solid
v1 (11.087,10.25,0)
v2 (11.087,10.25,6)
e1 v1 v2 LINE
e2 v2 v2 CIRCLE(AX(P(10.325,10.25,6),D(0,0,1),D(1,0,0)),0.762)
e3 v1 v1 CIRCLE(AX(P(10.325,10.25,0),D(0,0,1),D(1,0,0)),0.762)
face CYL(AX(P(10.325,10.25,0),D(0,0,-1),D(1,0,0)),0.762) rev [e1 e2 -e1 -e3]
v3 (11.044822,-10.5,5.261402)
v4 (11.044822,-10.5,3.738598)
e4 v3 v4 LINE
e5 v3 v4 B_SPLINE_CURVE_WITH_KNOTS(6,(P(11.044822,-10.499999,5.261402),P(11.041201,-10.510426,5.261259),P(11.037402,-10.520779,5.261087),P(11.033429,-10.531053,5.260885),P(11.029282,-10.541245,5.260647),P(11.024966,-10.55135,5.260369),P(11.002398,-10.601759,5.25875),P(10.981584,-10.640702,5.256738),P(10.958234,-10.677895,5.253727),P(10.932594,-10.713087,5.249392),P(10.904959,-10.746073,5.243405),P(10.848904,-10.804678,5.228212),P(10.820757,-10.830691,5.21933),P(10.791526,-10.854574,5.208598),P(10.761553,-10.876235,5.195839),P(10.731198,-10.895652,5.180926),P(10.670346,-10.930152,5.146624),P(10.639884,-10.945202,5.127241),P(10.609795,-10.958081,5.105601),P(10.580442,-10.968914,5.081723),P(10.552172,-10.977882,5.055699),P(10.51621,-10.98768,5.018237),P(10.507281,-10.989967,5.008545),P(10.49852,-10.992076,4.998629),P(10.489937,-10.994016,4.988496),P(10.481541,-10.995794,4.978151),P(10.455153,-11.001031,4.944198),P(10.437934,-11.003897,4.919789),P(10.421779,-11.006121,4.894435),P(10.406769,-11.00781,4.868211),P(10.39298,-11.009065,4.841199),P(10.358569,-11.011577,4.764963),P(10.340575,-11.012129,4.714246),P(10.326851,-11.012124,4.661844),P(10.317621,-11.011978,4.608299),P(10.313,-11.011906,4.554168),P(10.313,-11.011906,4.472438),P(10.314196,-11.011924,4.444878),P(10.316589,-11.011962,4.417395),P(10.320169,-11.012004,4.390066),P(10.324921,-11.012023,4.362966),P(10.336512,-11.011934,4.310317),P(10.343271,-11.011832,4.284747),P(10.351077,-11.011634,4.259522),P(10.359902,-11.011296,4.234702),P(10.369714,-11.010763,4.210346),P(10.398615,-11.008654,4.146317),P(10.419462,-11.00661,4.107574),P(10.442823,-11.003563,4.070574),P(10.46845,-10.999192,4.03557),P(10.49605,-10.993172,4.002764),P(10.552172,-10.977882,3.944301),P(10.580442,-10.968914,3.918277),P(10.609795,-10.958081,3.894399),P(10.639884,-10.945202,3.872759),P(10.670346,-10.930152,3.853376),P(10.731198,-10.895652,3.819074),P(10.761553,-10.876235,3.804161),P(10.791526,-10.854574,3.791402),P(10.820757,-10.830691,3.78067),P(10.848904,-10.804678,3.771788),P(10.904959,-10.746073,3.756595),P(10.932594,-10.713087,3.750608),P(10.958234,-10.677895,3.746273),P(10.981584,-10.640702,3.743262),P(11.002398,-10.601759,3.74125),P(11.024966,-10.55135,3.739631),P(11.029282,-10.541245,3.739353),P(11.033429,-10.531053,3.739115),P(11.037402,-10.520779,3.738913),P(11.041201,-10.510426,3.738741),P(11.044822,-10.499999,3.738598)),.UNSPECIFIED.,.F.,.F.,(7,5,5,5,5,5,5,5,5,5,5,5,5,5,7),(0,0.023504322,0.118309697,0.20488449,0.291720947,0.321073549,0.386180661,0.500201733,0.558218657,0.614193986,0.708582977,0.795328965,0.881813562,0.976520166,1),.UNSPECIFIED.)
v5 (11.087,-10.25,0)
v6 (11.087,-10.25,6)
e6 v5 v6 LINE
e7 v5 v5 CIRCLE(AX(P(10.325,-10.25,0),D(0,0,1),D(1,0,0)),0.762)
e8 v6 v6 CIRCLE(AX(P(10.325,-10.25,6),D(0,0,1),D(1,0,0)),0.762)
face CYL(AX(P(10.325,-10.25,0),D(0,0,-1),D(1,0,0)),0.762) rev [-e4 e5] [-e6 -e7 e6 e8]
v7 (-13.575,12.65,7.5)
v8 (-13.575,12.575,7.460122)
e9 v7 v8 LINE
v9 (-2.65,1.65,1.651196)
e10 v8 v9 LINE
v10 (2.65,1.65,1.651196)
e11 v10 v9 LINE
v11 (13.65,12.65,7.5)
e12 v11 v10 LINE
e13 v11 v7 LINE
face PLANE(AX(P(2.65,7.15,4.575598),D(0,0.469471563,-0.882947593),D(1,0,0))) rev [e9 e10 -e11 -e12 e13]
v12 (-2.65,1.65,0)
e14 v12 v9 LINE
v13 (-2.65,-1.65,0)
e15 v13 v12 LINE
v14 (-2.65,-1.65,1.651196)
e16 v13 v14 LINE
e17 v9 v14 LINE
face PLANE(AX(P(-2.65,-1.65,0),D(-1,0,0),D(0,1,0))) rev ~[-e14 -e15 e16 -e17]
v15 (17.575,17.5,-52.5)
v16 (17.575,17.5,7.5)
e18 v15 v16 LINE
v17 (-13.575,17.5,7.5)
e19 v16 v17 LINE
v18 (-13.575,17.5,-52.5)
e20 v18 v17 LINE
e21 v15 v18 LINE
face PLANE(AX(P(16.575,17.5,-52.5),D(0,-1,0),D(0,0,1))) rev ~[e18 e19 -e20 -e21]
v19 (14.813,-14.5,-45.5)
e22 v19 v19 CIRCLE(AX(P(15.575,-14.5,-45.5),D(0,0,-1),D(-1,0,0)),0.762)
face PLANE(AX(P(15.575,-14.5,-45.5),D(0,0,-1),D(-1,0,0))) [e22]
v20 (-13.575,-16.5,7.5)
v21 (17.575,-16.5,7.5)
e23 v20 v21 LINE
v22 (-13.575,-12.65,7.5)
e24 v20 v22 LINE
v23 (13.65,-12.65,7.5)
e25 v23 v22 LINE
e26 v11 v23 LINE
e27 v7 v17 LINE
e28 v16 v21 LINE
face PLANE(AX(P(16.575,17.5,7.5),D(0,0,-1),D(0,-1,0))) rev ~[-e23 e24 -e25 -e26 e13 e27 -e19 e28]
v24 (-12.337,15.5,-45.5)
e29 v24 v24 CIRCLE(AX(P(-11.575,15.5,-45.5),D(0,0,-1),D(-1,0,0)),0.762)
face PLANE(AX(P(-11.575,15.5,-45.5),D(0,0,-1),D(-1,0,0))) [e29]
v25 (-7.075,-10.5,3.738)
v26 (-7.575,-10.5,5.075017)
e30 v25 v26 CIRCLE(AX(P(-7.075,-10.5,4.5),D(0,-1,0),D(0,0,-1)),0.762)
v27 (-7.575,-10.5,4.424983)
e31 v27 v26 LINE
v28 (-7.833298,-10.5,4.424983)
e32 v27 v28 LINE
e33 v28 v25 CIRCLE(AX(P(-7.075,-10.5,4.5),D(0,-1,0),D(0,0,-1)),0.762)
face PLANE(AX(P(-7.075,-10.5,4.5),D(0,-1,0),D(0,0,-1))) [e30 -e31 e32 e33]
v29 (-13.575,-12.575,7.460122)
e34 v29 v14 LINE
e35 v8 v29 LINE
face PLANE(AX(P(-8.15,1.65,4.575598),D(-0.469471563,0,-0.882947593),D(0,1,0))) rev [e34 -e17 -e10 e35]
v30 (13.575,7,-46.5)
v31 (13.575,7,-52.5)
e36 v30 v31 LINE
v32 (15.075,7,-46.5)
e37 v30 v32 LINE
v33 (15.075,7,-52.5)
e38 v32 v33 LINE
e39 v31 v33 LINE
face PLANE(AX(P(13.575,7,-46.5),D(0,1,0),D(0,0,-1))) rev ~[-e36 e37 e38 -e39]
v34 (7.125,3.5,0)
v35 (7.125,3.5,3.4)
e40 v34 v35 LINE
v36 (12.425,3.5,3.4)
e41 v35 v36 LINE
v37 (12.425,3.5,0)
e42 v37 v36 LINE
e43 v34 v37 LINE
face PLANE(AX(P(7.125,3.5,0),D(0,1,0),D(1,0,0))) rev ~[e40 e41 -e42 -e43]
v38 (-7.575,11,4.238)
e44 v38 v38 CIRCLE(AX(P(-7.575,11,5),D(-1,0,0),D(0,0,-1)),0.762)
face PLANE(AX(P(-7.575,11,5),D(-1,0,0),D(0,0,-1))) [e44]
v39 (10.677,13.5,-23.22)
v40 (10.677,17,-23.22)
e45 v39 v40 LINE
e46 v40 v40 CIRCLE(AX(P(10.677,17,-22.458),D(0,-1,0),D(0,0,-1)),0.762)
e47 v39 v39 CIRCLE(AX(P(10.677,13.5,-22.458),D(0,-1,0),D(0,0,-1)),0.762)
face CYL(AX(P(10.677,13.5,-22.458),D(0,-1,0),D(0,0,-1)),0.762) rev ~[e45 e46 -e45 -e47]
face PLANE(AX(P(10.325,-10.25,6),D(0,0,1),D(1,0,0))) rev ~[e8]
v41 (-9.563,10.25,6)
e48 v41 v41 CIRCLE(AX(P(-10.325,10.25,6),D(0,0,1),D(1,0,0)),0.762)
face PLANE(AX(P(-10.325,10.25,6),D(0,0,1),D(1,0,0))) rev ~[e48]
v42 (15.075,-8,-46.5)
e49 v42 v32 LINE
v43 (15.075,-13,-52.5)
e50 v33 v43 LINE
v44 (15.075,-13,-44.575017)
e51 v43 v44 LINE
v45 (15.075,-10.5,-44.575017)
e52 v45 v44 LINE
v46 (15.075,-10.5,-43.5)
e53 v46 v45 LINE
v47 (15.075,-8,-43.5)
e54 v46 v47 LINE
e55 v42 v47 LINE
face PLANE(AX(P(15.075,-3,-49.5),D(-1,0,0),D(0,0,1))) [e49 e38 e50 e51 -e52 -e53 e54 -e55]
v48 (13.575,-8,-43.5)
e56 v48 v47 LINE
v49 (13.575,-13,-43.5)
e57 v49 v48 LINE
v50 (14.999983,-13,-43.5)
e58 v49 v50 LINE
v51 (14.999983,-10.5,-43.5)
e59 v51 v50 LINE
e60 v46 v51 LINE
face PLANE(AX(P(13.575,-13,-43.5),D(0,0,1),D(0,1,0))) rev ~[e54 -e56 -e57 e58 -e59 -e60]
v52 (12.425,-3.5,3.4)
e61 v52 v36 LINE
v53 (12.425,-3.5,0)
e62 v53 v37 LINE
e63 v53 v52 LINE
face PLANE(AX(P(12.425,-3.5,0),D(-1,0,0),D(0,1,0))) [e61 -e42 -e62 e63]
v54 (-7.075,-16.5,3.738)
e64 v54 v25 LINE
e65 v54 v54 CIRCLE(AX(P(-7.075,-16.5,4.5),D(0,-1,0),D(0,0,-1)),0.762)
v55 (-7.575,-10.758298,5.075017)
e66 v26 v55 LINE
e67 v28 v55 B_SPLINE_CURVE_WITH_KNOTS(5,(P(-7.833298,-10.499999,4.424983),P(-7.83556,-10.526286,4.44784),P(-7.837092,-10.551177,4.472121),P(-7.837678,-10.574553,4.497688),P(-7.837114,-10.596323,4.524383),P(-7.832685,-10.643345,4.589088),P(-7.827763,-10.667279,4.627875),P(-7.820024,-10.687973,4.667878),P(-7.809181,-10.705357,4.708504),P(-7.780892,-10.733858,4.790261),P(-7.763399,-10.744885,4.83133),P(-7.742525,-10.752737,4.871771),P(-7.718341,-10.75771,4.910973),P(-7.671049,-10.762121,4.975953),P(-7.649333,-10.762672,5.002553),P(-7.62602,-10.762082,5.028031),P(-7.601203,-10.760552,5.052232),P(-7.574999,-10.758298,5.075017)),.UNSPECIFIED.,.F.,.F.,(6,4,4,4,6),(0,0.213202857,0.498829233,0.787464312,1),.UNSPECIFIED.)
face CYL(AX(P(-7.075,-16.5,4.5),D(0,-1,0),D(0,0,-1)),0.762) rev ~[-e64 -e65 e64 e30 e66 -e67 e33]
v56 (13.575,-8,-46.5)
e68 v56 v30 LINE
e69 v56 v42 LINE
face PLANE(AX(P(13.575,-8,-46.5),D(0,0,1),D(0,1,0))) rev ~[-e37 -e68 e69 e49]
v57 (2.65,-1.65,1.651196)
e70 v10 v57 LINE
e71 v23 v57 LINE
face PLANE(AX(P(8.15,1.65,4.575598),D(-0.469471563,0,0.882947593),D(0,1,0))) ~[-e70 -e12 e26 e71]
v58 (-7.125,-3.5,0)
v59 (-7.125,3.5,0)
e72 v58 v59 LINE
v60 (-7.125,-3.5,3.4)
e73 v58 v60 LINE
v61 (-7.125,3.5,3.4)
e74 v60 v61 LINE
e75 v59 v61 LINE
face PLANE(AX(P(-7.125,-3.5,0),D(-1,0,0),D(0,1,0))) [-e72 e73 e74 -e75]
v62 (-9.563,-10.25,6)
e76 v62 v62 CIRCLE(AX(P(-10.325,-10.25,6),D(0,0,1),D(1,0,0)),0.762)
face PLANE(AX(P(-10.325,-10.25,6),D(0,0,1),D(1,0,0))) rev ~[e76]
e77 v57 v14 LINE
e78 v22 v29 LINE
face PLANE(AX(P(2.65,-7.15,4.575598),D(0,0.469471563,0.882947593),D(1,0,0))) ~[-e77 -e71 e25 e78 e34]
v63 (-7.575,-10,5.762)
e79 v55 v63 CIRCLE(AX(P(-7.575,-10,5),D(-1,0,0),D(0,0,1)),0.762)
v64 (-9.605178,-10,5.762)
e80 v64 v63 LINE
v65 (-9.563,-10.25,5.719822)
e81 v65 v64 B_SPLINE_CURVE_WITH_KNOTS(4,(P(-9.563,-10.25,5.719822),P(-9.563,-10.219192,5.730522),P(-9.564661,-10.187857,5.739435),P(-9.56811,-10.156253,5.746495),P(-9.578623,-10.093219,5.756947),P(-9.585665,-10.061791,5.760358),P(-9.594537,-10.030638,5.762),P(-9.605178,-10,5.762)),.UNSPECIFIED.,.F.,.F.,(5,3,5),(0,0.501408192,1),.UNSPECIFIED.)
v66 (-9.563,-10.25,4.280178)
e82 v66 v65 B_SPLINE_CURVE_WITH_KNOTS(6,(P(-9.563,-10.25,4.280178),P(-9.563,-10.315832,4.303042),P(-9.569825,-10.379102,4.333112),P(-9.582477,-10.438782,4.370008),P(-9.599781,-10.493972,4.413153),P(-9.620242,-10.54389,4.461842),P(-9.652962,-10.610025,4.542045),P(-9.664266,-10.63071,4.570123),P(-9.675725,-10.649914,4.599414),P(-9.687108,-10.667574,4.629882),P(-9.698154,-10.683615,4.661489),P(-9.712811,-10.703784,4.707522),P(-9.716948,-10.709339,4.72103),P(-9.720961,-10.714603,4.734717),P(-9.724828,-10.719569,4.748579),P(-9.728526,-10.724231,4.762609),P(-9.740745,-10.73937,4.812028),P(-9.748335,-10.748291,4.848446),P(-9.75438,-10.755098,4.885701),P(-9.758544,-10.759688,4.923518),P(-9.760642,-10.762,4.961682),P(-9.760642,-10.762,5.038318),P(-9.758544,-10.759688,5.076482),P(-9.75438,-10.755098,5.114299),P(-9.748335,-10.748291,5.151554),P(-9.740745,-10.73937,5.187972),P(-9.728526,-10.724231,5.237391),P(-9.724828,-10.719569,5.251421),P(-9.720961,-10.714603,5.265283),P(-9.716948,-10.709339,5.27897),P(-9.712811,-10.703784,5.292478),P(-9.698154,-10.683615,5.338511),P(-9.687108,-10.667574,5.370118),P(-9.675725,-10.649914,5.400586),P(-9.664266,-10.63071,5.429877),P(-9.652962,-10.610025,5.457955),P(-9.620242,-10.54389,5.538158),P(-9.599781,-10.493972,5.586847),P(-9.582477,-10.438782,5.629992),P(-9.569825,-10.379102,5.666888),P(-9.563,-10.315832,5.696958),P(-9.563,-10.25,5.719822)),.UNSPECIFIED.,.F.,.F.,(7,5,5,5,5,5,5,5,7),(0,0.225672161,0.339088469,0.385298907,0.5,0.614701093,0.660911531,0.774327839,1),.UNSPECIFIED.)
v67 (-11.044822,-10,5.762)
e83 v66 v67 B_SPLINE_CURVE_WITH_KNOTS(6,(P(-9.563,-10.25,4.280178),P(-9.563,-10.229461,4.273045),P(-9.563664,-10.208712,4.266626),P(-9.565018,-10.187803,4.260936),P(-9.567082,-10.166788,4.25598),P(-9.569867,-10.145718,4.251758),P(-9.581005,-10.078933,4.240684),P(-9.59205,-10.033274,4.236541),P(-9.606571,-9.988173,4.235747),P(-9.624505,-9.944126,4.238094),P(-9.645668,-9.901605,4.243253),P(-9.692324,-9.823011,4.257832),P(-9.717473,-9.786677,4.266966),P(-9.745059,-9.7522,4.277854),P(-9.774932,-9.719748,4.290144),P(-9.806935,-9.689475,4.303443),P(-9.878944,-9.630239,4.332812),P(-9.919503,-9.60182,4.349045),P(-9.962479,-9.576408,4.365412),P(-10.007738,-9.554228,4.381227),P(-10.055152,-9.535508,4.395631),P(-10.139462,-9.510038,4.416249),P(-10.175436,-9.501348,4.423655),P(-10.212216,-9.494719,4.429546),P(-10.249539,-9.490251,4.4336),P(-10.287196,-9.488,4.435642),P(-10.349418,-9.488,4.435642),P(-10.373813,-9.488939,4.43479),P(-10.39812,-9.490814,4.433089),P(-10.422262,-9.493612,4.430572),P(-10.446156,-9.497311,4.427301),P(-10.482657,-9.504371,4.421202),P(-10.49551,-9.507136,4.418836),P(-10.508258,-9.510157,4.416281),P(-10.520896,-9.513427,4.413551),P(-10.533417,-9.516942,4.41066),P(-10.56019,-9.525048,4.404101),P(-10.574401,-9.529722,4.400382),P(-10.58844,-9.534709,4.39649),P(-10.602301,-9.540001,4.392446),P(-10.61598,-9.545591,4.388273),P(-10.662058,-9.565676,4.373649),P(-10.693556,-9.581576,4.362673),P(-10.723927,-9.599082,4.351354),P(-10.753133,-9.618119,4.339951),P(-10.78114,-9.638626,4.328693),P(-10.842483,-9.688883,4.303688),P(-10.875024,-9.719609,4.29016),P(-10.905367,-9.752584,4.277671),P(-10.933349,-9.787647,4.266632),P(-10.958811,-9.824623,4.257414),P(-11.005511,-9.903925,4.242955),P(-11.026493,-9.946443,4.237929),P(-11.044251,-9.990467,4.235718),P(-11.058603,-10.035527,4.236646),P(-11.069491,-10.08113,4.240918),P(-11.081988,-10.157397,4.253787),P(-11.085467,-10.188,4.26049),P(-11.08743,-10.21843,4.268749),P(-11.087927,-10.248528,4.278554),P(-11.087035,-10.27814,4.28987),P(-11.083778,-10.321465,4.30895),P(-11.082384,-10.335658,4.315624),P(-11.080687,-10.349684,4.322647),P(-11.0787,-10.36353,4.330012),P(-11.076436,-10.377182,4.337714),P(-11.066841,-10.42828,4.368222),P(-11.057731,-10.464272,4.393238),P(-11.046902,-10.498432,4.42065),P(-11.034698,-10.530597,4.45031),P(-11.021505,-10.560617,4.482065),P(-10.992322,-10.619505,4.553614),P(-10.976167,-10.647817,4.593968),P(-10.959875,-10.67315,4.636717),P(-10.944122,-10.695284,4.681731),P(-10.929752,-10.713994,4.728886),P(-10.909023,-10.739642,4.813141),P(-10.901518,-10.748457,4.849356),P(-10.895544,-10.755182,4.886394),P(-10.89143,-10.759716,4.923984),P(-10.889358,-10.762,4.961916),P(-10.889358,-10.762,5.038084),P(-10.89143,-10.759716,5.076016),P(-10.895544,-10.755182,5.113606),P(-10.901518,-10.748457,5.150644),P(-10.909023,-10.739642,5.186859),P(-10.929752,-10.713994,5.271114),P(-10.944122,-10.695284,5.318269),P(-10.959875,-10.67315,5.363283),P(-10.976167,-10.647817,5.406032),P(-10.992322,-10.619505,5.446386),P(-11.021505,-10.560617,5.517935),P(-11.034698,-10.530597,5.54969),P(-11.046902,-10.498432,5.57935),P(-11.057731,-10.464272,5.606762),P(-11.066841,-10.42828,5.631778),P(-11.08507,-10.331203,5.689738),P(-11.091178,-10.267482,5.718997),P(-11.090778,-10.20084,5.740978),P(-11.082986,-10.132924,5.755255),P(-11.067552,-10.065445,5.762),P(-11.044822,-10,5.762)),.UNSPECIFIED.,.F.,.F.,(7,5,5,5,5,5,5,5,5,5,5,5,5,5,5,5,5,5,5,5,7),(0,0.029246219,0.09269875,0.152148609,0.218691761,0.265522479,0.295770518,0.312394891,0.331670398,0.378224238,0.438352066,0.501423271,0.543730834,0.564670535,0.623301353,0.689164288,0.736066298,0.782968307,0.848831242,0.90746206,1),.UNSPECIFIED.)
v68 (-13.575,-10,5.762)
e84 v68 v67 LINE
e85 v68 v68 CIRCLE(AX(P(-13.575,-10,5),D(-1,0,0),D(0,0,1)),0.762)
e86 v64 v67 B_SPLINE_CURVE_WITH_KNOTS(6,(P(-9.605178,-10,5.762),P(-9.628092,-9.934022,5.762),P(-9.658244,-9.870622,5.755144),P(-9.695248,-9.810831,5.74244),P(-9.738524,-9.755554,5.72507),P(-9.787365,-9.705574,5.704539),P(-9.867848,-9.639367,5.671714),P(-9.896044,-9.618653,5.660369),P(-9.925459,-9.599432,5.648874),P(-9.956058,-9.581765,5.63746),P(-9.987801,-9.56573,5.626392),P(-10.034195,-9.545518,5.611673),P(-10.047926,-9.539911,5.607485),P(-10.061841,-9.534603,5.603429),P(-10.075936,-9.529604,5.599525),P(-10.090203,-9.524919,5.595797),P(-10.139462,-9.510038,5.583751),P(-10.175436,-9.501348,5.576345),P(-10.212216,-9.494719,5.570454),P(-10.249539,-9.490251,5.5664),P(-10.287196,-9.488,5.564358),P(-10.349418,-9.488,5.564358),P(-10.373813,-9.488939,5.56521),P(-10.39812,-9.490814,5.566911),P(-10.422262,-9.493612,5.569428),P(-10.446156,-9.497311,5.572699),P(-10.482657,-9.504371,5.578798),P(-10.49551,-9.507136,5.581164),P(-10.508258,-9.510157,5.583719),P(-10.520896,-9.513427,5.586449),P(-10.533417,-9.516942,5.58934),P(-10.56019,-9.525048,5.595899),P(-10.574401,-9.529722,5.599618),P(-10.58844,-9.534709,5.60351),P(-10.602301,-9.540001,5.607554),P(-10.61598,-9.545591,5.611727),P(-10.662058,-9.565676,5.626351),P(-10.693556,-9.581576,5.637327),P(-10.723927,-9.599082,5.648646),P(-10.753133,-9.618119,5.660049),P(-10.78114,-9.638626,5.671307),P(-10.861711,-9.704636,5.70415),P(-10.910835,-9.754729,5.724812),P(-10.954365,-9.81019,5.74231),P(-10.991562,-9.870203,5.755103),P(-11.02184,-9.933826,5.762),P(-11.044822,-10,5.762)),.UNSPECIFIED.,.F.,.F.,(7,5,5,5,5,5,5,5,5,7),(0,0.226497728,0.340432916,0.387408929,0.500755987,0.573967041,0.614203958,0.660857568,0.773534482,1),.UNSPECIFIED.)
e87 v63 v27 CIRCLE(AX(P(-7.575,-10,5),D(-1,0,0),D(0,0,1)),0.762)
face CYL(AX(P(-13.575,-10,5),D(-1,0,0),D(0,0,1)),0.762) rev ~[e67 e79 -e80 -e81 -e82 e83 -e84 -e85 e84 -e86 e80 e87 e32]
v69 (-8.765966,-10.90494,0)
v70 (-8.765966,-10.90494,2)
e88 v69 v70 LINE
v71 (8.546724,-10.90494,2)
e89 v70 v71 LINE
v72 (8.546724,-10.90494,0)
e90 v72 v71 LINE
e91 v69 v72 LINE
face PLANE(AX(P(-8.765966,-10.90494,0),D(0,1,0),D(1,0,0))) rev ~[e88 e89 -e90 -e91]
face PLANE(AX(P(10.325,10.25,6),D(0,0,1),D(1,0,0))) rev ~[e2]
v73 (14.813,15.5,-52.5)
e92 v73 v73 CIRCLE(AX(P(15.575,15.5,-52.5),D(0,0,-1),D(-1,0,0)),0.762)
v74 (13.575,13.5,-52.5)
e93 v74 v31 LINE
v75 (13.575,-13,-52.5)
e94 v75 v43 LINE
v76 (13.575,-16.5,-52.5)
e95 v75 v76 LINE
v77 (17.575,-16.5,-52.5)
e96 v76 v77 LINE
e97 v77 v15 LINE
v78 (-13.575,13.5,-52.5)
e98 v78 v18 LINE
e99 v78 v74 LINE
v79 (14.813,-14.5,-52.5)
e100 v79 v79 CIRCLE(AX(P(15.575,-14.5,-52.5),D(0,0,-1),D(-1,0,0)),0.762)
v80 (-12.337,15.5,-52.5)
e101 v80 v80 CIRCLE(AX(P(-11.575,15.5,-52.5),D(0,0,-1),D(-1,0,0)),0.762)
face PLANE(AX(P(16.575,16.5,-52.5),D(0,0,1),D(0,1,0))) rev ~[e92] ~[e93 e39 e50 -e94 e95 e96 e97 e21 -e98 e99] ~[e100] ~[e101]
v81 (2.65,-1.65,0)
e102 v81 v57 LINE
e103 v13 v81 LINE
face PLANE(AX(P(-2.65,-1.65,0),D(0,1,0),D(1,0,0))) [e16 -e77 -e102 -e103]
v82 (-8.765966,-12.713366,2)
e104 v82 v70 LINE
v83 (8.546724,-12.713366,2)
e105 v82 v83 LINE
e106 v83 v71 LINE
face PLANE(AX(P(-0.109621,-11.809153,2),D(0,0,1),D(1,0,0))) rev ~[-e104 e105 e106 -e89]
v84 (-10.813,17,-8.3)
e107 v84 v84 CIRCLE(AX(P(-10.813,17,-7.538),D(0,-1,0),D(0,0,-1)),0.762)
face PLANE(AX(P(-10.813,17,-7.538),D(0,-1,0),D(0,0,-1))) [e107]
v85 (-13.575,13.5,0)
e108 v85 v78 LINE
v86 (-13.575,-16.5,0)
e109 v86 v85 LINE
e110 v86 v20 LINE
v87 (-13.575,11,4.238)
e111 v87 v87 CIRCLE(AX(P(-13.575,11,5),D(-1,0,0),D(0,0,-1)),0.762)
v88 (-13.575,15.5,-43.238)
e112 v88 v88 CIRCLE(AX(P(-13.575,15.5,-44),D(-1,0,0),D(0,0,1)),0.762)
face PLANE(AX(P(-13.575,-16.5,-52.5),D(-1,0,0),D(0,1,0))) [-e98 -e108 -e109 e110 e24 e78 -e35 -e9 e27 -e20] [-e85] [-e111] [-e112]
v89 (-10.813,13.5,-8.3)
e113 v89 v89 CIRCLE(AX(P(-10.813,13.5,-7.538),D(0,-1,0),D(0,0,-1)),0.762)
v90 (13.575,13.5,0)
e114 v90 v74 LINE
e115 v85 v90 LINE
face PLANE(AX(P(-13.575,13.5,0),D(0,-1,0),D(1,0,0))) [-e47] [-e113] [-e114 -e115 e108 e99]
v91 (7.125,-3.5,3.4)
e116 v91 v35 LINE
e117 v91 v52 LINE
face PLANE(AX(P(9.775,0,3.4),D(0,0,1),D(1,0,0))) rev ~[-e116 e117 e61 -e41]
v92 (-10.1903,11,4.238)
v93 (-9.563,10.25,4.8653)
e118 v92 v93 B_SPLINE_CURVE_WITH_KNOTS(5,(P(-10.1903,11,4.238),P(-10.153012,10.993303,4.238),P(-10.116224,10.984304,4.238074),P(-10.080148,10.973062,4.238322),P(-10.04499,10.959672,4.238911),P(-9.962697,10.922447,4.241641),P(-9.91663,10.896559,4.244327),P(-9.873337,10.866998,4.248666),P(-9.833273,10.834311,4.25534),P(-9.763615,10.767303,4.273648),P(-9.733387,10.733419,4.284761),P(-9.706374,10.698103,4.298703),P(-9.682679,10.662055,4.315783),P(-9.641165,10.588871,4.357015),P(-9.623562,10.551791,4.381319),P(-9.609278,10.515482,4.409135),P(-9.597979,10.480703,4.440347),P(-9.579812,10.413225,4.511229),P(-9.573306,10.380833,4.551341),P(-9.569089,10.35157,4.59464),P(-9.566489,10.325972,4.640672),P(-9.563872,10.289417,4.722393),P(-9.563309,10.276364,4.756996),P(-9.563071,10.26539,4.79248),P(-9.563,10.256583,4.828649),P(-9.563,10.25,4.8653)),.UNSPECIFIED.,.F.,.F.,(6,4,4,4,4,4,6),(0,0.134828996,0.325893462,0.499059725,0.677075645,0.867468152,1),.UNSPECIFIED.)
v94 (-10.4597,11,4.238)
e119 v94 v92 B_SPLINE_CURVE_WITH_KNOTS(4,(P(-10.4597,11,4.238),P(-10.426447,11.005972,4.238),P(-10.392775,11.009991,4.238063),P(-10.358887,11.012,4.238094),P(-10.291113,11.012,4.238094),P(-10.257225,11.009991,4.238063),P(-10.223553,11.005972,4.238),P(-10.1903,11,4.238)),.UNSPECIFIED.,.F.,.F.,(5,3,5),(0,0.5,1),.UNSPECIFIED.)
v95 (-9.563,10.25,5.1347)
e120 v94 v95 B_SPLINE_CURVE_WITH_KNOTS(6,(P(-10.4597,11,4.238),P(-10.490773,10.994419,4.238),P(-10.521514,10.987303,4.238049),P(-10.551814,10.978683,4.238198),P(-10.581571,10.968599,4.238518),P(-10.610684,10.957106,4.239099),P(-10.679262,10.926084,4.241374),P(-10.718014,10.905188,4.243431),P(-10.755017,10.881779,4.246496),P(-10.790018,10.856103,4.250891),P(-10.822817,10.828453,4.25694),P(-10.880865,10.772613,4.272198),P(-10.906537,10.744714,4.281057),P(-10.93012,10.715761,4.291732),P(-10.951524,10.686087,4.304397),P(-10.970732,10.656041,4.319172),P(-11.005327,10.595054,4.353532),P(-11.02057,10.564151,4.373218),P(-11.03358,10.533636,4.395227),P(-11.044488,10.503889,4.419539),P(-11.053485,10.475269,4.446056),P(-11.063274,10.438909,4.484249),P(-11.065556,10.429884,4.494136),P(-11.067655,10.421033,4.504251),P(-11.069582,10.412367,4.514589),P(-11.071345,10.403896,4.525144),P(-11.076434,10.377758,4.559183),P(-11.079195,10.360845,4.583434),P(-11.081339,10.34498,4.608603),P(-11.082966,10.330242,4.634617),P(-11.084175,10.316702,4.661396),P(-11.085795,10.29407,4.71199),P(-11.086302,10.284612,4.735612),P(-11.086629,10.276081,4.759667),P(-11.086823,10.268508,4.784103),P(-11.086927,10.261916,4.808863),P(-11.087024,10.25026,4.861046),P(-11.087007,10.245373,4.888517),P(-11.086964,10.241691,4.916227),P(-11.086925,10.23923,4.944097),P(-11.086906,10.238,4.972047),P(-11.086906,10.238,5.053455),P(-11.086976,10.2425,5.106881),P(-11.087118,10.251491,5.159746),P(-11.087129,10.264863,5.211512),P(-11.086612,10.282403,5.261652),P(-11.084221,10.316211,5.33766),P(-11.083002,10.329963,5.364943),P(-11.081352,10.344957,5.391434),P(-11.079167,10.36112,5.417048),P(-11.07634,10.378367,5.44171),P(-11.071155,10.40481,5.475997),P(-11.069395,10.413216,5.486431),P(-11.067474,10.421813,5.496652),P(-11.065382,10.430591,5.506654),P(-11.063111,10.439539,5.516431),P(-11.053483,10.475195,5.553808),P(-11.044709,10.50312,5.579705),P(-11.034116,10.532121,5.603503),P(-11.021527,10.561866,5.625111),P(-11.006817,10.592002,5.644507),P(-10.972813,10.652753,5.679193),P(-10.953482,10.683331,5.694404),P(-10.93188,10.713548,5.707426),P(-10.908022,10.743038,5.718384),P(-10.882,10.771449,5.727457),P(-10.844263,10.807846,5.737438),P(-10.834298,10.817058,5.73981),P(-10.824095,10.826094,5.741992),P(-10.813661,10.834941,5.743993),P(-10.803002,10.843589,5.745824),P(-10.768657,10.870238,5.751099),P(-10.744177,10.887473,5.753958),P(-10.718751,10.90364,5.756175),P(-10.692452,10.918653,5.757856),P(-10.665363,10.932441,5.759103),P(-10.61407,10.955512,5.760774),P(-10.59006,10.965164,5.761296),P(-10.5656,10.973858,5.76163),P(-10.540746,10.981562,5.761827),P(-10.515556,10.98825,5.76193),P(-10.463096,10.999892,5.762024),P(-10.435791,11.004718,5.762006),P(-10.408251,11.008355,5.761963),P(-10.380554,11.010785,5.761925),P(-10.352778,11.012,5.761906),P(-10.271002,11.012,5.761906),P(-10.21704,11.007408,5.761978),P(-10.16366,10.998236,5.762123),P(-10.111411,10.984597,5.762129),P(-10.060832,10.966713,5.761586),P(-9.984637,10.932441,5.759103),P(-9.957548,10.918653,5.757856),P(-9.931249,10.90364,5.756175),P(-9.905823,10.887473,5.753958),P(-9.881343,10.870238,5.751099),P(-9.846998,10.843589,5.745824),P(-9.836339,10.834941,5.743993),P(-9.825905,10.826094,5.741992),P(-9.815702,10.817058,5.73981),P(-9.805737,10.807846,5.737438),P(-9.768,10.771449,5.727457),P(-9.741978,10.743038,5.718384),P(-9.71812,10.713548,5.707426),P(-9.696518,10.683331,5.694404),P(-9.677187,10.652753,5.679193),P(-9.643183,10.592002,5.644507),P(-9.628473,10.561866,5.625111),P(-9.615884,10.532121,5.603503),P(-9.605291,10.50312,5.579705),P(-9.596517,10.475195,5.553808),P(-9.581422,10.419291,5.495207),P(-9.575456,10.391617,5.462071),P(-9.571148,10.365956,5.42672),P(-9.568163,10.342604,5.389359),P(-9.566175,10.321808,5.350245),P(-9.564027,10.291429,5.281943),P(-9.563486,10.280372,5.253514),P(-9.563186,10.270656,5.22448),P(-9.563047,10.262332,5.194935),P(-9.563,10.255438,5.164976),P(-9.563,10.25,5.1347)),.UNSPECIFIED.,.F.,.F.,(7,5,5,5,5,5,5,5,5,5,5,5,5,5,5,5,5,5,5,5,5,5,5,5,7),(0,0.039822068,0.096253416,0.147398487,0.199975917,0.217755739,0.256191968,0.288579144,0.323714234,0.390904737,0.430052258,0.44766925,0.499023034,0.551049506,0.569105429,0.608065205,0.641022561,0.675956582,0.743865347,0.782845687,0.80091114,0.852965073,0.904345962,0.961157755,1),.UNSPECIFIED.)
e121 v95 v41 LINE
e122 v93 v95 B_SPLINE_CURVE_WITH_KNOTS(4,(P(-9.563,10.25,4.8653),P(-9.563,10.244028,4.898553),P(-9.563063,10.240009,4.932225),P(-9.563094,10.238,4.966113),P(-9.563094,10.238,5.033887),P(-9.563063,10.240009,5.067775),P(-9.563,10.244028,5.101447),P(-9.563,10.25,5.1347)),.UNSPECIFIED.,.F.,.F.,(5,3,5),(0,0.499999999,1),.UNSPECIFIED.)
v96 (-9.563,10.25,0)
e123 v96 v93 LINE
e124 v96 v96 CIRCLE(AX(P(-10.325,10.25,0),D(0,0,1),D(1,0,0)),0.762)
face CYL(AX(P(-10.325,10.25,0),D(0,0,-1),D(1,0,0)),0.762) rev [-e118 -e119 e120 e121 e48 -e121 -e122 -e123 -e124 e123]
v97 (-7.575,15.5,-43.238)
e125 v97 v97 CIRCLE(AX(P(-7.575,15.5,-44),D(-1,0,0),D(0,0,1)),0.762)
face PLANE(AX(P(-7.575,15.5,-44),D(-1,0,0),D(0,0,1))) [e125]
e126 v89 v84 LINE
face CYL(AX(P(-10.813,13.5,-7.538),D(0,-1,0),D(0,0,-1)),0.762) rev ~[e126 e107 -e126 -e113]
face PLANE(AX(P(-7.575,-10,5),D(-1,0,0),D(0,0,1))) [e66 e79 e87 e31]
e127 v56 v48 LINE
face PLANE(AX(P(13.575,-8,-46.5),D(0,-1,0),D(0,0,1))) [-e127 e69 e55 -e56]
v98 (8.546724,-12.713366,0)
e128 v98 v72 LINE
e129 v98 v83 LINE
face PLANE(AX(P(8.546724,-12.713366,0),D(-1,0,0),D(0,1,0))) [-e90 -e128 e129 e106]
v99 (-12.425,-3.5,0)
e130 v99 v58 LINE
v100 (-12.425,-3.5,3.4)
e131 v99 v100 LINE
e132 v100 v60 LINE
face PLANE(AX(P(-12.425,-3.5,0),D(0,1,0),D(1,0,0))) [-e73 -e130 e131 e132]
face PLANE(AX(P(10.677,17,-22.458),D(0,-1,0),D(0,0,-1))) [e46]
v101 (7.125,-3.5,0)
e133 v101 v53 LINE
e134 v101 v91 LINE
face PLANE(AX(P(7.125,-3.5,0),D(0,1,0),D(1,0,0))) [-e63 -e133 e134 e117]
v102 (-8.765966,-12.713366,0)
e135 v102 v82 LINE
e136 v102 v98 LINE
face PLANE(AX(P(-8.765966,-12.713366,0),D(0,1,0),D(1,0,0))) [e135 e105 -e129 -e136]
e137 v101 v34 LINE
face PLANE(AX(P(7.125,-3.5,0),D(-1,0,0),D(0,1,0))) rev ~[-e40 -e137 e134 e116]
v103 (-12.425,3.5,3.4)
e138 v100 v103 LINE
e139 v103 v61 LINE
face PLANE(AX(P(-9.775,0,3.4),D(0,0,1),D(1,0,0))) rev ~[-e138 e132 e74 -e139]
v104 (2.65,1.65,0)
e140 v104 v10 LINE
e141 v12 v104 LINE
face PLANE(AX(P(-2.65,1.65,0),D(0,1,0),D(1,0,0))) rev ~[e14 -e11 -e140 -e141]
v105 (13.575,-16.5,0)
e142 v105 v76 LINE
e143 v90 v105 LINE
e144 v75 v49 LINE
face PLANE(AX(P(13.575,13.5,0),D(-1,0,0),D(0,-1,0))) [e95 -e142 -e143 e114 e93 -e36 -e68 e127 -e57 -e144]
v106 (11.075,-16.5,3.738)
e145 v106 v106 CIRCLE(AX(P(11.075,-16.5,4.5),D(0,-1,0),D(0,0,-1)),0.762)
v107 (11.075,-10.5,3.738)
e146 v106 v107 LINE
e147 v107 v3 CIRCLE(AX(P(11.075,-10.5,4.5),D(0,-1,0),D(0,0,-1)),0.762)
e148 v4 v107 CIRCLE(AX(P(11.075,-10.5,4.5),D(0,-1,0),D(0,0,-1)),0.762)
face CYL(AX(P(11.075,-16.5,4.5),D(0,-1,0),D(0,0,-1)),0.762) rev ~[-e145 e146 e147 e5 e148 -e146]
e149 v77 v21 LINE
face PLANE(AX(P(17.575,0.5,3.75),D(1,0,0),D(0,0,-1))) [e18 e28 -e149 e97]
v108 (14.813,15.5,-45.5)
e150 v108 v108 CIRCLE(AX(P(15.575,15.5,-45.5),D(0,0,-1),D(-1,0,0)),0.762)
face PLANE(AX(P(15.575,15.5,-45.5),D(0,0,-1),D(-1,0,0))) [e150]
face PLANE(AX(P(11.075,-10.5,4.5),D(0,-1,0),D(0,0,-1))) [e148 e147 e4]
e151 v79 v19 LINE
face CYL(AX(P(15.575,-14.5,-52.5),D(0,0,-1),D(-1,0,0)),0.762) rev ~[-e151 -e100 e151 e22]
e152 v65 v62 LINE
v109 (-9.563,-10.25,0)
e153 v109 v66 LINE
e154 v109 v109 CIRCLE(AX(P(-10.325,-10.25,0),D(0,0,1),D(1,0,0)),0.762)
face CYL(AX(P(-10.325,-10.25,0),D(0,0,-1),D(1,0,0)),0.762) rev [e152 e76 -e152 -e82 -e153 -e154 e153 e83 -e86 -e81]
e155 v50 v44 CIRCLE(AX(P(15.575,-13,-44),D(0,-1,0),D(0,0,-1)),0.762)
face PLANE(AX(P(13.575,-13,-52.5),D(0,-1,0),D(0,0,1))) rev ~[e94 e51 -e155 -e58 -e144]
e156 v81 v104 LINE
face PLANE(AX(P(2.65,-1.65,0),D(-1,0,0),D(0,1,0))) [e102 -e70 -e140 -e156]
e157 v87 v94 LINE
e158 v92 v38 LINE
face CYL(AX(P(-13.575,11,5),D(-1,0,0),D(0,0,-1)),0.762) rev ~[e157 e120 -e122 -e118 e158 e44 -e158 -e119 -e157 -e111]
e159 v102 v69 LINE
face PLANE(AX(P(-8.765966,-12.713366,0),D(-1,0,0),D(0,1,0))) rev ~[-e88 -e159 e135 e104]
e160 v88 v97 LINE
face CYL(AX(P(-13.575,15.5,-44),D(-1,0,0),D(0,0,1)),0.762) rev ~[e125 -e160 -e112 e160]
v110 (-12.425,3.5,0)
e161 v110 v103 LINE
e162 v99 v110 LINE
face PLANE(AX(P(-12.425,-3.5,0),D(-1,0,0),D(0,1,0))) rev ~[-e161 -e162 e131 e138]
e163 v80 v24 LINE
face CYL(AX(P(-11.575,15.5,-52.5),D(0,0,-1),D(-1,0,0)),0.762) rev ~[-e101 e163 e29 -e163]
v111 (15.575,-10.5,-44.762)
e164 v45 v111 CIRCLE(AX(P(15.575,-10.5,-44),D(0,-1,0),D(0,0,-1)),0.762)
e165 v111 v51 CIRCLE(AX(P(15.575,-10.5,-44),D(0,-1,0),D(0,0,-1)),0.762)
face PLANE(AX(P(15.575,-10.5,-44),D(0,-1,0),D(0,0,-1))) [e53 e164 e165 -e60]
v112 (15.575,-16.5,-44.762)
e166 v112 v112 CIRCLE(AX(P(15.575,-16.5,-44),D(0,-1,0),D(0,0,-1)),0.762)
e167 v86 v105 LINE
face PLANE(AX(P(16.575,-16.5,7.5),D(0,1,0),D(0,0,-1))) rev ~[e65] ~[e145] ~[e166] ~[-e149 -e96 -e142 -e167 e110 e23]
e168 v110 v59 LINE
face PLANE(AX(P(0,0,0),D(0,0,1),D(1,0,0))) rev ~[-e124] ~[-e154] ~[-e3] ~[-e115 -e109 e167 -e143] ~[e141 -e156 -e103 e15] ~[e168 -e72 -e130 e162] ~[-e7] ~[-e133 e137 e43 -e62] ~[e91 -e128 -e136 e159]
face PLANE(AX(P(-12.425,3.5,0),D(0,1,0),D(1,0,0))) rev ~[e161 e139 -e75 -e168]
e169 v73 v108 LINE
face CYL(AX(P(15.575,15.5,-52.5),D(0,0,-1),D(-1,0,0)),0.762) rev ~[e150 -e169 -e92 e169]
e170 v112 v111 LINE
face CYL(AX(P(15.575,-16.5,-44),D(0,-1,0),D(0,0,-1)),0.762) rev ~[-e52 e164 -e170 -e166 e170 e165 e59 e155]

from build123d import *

# Parameters (mm, degrees)
SKETCH2_W           = 33.15
SKETCH2_H           = 33
BOSS_EXTRUDE1_DEPTH = 7.5
SKETCH3_R           = 0.762
CUT_EXTRUDE1_DEPTH  = 6
SKETCH4_W           = 5.3
SKETCH4_H           = 7
CUT_EXTRUDE2_DEPTH  = 3.4
SKETCH5_W           = 17.312690108
SKETCH5_H           = 1.808425299
CUT_EXTRUDE3_DEPTH  = 2
SKETCH6_W           = 5.3
SKETCH6_H           = 3.3
CUT_EXTRUDE4_DEPTH  = 25.560753755
CHAMFER3_SIZE       = 11
CHAMFER3_SIZE2      = 5.848803748
BOSS_EXTRUDE2_DEPTH = 52.5
SKETCH8_W           = 33.15
SKETCH8_H           = 60
BOSS_EXTRUDE3_DEPTH = 1
SKETCH9_W           = 3
SKETCH9_H           = 34
CUT_EXTRUDE5_DEPTH  = 60
SKETCH10_R          = 0.762
CUT_EXTRUDE6_DEPTH  = 6
SKETCH11_R          = 0.762
CUT_EXTRUDE7_DEPTH  = 6
SKETCH12_R          = 0.762
CUT_EXTRUDE9_DEPTH  = 7
SKETCH13_W          = 3
SKETCH13_H          = 5
CUT_EXTRUDE10_DEPTH = 1.5
SKETCH14_W          = 52.5
SKETCH14_H          = 1
BOSS_EXTRUDE4_DEPTH = 1
SKETCH15_R          = 0.762
CUT_EXTRUDE11_DEPTH = 3.5


with BuildPart() as part:
    # Sketch2 → Boss-Extrude1 (new body)
    with BuildSketch(Plane.XY):
        Rectangle(SKETCH2_W, SKETCH2_H)
    extrude(amount=BOSS_EXTRUDE1_DEPTH)

    # Sketch3 → Cut-Extrude1 (cut)
    with BuildSketch(Plane.XY):
        with Locations((10.325, 10.25)):
            Circle(SKETCH3_R)
        with Locations((-10.325, 10.25)):
            Circle(SKETCH3_R)
        with Locations((10.325, -10.25)):
            Circle(SKETCH3_R)
        with Locations((-10.325, -10.25)):
            Circle(SKETCH3_R)
    extrude(amount=CUT_EXTRUDE1_DEPTH, mode=Mode.SUBTRACT)

    # Sketch4 → Cut-Extrude2 (cut)
    with BuildSketch(Plane.XY):
        with Locations((9.775, 0)):
            Rectangle(SKETCH4_W, SKETCH4_H)
        with Locations((-9.775, 0)):
            Rectangle(SKETCH4_W, SKETCH4_H)
    extrude(amount=CUT_EXTRUDE2_DEPTH, mode=Mode.SUBTRACT)

    # Sketch5 → Cut-Extrude3 (cut)
    with BuildSketch(Plane.XY):
        with Locations((-0.109621432, -11.80915301)):
            Rectangle(SKETCH5_W, SKETCH5_H)
    extrude(amount=CUT_EXTRUDE3_DEPTH, mode=Mode.SUBTRACT)

    # Sketch6 → Cut-Extrude4 (cut, through all)
    with BuildSketch(Plane.XY):
        Rectangle(SKETCH6_W, SKETCH6_H)
    extrude(amount=CUT_EXTRUDE4_DEPTH, mode=Mode.SUBTRACT)

    # Chamfer3
    chamfer3_edges = [part.edges().sort_by_distance(p)[0] for p in [
        (2.65, 0, 7.5),
        (0, 1.65, 7.5),
        (-2.65, 0, 7.5),
        (0, -1.65, 7.5),
    ]]
    chamfer3_side = [part.faces().sort_by_distance(p)[0] for p in [
        (-16.107247662, 0, 7.5),
    ]]
    chamfer(chamfer3_edges, length=CHAMFER3_SIZE, length2=CHAMFER3_SIZE2, reference=chamfer3_side[0])

    # Sketch7 → Boss-Extrude2 (add)
    with BuildSketch(Plane.XY):
        Polygon((13.575, -16.5), (17.575, -16.5), (17.575, 16.5), (-16.575, 16.5), (-16.575, -16.5), (-13.575, -16.5), (-13.575, 13.5), (13.575, 13.5), align=None)
    extrude(amount=-BOSS_EXTRUDE2_DEPTH)

    # Sketch8 → Boss-Extrude3 (add)
    with BuildSketch(Plane(origin=(0, 16.5, 0), x_dir=(1, 0, 0), z_dir=(0, 1, 0))):
        with Locations((0, 22.5)):
            Rectangle(SKETCH8_W, SKETCH8_H)
    extrude(amount=BOSS_EXTRUDE3_DEPTH)

    # Sketch9 → Cut-Extrude5 (cut)
    with BuildSketch(Plane(origin=(0, 0, -52.5), x_dir=(-1, 0, 0), z_dir=(0, 0, -1))):
        with Locations((15.075, 0.5)):
            Rectangle(SKETCH9_W, SKETCH9_H)
    extrude(amount=-CUT_EXTRUDE5_DEPTH, mode=Mode.SUBTRACT)

    # Sketch10 → Cut-Extrude6 (cut)
    with BuildSketch(Plane.ZY.offset(13.575)):
        with Locations((-44, 15.5)):
            Circle(SKETCH10_R)
        with Locations(Location((5, 11, 0), (0, 0, 180))):
            Circle(SKETCH10_R)
        with Locations((5, -10)):
            Circle(SKETCH10_R)
    extrude(amount=-CUT_EXTRUDE6_DEPTH, mode=Mode.SUBTRACT)

    # Sketch11 → Cut-Extrude7 (cut)
    with BuildSketch(Plane(origin=(0, -16.5, 0), x_dir=(-1, 0, 0), z_dir=(0, -1, 0))):
        with Locations(Location((-15.575, 44, 0), (0, 0, 90))):
            Circle(SKETCH11_R)
        with Locations((-15.575, -51.5)):
            Circle(SKETCH11_R)
        with Locations(Location((7.075, -4.5, 0), (0, 0, 90))):
            Circle(SKETCH11_R)
        with Locations(Location((-11.075, -4.5, 0), (0, 0, 90))):
            Circle(SKETCH11_R)
    extrude(amount=-CUT_EXTRUDE7_DEPTH, mode=Mode.SUBTRACT)

    # Sketch12 → Cut-Extrude9 (cut)
    with BuildSketch(Plane(origin=(0, 0, -52.5), x_dir=(-1, 0, 0), z_dir=(0, 0, -1))):
        with Locations((-15.575, 15.5)):
            Circle(SKETCH12_R)
        with Locations((-15.575, -14.5)):
            Circle(SKETCH12_R)
        with Locations((11.575, 15.5)):
            Circle(SKETCH12_R)
    extrude(amount=-CUT_EXTRUDE9_DEPTH, mode=Mode.SUBTRACT)

    # Sketch13 → Cut-Extrude10 (cut)
    with BuildSketch(Plane.ZY.offset(-13.575)):
        Polygon((-46.5, 7), (-52.5, 7), (-52.5, -13), (-46.5, -13), (-46.5, -8), align=None)
        with Locations((-45, -10.5)):
            Rectangle(SKETCH13_W, SKETCH13_H)
    extrude(amount=-CUT_EXTRUDE10_DEPTH, mode=Mode.SUBTRACT)

    # Sketch14 → Boss-Extrude4 (add)
    with BuildSketch(Plane(origin=(16.575, 0, 0), x_dir=(0, 0, -1), z_dir=(1, 0, 0))):
        Polygon((0, 17.5), (-7.5, 17.5), (-7.5, -16.5), (0, -16.5), (0, 16.5), align=None)
        with Locations((26.25, 17)):
            Rectangle(SKETCH14_W, SKETCH14_H)
    extrude(amount=BOSS_EXTRUDE4_DEPTH)

    # Sketch15 → Cut-Extrude11 (cut)
    with BuildSketch(Plane.XZ.offset(-13.5)):
        with Locations(Location((-10.813, -7.538, 0), (0, 0, 270))):
            Circle(SKETCH15_R)
        with Locations(Location((10.677, -22.458, 0), (0, 0, 270))):
            Circle(SKETCH15_R)
    extrude(amount=-CUT_EXTRUDE11_DEPTH, mode=Mode.SUBTRACT)


solid = part.part
